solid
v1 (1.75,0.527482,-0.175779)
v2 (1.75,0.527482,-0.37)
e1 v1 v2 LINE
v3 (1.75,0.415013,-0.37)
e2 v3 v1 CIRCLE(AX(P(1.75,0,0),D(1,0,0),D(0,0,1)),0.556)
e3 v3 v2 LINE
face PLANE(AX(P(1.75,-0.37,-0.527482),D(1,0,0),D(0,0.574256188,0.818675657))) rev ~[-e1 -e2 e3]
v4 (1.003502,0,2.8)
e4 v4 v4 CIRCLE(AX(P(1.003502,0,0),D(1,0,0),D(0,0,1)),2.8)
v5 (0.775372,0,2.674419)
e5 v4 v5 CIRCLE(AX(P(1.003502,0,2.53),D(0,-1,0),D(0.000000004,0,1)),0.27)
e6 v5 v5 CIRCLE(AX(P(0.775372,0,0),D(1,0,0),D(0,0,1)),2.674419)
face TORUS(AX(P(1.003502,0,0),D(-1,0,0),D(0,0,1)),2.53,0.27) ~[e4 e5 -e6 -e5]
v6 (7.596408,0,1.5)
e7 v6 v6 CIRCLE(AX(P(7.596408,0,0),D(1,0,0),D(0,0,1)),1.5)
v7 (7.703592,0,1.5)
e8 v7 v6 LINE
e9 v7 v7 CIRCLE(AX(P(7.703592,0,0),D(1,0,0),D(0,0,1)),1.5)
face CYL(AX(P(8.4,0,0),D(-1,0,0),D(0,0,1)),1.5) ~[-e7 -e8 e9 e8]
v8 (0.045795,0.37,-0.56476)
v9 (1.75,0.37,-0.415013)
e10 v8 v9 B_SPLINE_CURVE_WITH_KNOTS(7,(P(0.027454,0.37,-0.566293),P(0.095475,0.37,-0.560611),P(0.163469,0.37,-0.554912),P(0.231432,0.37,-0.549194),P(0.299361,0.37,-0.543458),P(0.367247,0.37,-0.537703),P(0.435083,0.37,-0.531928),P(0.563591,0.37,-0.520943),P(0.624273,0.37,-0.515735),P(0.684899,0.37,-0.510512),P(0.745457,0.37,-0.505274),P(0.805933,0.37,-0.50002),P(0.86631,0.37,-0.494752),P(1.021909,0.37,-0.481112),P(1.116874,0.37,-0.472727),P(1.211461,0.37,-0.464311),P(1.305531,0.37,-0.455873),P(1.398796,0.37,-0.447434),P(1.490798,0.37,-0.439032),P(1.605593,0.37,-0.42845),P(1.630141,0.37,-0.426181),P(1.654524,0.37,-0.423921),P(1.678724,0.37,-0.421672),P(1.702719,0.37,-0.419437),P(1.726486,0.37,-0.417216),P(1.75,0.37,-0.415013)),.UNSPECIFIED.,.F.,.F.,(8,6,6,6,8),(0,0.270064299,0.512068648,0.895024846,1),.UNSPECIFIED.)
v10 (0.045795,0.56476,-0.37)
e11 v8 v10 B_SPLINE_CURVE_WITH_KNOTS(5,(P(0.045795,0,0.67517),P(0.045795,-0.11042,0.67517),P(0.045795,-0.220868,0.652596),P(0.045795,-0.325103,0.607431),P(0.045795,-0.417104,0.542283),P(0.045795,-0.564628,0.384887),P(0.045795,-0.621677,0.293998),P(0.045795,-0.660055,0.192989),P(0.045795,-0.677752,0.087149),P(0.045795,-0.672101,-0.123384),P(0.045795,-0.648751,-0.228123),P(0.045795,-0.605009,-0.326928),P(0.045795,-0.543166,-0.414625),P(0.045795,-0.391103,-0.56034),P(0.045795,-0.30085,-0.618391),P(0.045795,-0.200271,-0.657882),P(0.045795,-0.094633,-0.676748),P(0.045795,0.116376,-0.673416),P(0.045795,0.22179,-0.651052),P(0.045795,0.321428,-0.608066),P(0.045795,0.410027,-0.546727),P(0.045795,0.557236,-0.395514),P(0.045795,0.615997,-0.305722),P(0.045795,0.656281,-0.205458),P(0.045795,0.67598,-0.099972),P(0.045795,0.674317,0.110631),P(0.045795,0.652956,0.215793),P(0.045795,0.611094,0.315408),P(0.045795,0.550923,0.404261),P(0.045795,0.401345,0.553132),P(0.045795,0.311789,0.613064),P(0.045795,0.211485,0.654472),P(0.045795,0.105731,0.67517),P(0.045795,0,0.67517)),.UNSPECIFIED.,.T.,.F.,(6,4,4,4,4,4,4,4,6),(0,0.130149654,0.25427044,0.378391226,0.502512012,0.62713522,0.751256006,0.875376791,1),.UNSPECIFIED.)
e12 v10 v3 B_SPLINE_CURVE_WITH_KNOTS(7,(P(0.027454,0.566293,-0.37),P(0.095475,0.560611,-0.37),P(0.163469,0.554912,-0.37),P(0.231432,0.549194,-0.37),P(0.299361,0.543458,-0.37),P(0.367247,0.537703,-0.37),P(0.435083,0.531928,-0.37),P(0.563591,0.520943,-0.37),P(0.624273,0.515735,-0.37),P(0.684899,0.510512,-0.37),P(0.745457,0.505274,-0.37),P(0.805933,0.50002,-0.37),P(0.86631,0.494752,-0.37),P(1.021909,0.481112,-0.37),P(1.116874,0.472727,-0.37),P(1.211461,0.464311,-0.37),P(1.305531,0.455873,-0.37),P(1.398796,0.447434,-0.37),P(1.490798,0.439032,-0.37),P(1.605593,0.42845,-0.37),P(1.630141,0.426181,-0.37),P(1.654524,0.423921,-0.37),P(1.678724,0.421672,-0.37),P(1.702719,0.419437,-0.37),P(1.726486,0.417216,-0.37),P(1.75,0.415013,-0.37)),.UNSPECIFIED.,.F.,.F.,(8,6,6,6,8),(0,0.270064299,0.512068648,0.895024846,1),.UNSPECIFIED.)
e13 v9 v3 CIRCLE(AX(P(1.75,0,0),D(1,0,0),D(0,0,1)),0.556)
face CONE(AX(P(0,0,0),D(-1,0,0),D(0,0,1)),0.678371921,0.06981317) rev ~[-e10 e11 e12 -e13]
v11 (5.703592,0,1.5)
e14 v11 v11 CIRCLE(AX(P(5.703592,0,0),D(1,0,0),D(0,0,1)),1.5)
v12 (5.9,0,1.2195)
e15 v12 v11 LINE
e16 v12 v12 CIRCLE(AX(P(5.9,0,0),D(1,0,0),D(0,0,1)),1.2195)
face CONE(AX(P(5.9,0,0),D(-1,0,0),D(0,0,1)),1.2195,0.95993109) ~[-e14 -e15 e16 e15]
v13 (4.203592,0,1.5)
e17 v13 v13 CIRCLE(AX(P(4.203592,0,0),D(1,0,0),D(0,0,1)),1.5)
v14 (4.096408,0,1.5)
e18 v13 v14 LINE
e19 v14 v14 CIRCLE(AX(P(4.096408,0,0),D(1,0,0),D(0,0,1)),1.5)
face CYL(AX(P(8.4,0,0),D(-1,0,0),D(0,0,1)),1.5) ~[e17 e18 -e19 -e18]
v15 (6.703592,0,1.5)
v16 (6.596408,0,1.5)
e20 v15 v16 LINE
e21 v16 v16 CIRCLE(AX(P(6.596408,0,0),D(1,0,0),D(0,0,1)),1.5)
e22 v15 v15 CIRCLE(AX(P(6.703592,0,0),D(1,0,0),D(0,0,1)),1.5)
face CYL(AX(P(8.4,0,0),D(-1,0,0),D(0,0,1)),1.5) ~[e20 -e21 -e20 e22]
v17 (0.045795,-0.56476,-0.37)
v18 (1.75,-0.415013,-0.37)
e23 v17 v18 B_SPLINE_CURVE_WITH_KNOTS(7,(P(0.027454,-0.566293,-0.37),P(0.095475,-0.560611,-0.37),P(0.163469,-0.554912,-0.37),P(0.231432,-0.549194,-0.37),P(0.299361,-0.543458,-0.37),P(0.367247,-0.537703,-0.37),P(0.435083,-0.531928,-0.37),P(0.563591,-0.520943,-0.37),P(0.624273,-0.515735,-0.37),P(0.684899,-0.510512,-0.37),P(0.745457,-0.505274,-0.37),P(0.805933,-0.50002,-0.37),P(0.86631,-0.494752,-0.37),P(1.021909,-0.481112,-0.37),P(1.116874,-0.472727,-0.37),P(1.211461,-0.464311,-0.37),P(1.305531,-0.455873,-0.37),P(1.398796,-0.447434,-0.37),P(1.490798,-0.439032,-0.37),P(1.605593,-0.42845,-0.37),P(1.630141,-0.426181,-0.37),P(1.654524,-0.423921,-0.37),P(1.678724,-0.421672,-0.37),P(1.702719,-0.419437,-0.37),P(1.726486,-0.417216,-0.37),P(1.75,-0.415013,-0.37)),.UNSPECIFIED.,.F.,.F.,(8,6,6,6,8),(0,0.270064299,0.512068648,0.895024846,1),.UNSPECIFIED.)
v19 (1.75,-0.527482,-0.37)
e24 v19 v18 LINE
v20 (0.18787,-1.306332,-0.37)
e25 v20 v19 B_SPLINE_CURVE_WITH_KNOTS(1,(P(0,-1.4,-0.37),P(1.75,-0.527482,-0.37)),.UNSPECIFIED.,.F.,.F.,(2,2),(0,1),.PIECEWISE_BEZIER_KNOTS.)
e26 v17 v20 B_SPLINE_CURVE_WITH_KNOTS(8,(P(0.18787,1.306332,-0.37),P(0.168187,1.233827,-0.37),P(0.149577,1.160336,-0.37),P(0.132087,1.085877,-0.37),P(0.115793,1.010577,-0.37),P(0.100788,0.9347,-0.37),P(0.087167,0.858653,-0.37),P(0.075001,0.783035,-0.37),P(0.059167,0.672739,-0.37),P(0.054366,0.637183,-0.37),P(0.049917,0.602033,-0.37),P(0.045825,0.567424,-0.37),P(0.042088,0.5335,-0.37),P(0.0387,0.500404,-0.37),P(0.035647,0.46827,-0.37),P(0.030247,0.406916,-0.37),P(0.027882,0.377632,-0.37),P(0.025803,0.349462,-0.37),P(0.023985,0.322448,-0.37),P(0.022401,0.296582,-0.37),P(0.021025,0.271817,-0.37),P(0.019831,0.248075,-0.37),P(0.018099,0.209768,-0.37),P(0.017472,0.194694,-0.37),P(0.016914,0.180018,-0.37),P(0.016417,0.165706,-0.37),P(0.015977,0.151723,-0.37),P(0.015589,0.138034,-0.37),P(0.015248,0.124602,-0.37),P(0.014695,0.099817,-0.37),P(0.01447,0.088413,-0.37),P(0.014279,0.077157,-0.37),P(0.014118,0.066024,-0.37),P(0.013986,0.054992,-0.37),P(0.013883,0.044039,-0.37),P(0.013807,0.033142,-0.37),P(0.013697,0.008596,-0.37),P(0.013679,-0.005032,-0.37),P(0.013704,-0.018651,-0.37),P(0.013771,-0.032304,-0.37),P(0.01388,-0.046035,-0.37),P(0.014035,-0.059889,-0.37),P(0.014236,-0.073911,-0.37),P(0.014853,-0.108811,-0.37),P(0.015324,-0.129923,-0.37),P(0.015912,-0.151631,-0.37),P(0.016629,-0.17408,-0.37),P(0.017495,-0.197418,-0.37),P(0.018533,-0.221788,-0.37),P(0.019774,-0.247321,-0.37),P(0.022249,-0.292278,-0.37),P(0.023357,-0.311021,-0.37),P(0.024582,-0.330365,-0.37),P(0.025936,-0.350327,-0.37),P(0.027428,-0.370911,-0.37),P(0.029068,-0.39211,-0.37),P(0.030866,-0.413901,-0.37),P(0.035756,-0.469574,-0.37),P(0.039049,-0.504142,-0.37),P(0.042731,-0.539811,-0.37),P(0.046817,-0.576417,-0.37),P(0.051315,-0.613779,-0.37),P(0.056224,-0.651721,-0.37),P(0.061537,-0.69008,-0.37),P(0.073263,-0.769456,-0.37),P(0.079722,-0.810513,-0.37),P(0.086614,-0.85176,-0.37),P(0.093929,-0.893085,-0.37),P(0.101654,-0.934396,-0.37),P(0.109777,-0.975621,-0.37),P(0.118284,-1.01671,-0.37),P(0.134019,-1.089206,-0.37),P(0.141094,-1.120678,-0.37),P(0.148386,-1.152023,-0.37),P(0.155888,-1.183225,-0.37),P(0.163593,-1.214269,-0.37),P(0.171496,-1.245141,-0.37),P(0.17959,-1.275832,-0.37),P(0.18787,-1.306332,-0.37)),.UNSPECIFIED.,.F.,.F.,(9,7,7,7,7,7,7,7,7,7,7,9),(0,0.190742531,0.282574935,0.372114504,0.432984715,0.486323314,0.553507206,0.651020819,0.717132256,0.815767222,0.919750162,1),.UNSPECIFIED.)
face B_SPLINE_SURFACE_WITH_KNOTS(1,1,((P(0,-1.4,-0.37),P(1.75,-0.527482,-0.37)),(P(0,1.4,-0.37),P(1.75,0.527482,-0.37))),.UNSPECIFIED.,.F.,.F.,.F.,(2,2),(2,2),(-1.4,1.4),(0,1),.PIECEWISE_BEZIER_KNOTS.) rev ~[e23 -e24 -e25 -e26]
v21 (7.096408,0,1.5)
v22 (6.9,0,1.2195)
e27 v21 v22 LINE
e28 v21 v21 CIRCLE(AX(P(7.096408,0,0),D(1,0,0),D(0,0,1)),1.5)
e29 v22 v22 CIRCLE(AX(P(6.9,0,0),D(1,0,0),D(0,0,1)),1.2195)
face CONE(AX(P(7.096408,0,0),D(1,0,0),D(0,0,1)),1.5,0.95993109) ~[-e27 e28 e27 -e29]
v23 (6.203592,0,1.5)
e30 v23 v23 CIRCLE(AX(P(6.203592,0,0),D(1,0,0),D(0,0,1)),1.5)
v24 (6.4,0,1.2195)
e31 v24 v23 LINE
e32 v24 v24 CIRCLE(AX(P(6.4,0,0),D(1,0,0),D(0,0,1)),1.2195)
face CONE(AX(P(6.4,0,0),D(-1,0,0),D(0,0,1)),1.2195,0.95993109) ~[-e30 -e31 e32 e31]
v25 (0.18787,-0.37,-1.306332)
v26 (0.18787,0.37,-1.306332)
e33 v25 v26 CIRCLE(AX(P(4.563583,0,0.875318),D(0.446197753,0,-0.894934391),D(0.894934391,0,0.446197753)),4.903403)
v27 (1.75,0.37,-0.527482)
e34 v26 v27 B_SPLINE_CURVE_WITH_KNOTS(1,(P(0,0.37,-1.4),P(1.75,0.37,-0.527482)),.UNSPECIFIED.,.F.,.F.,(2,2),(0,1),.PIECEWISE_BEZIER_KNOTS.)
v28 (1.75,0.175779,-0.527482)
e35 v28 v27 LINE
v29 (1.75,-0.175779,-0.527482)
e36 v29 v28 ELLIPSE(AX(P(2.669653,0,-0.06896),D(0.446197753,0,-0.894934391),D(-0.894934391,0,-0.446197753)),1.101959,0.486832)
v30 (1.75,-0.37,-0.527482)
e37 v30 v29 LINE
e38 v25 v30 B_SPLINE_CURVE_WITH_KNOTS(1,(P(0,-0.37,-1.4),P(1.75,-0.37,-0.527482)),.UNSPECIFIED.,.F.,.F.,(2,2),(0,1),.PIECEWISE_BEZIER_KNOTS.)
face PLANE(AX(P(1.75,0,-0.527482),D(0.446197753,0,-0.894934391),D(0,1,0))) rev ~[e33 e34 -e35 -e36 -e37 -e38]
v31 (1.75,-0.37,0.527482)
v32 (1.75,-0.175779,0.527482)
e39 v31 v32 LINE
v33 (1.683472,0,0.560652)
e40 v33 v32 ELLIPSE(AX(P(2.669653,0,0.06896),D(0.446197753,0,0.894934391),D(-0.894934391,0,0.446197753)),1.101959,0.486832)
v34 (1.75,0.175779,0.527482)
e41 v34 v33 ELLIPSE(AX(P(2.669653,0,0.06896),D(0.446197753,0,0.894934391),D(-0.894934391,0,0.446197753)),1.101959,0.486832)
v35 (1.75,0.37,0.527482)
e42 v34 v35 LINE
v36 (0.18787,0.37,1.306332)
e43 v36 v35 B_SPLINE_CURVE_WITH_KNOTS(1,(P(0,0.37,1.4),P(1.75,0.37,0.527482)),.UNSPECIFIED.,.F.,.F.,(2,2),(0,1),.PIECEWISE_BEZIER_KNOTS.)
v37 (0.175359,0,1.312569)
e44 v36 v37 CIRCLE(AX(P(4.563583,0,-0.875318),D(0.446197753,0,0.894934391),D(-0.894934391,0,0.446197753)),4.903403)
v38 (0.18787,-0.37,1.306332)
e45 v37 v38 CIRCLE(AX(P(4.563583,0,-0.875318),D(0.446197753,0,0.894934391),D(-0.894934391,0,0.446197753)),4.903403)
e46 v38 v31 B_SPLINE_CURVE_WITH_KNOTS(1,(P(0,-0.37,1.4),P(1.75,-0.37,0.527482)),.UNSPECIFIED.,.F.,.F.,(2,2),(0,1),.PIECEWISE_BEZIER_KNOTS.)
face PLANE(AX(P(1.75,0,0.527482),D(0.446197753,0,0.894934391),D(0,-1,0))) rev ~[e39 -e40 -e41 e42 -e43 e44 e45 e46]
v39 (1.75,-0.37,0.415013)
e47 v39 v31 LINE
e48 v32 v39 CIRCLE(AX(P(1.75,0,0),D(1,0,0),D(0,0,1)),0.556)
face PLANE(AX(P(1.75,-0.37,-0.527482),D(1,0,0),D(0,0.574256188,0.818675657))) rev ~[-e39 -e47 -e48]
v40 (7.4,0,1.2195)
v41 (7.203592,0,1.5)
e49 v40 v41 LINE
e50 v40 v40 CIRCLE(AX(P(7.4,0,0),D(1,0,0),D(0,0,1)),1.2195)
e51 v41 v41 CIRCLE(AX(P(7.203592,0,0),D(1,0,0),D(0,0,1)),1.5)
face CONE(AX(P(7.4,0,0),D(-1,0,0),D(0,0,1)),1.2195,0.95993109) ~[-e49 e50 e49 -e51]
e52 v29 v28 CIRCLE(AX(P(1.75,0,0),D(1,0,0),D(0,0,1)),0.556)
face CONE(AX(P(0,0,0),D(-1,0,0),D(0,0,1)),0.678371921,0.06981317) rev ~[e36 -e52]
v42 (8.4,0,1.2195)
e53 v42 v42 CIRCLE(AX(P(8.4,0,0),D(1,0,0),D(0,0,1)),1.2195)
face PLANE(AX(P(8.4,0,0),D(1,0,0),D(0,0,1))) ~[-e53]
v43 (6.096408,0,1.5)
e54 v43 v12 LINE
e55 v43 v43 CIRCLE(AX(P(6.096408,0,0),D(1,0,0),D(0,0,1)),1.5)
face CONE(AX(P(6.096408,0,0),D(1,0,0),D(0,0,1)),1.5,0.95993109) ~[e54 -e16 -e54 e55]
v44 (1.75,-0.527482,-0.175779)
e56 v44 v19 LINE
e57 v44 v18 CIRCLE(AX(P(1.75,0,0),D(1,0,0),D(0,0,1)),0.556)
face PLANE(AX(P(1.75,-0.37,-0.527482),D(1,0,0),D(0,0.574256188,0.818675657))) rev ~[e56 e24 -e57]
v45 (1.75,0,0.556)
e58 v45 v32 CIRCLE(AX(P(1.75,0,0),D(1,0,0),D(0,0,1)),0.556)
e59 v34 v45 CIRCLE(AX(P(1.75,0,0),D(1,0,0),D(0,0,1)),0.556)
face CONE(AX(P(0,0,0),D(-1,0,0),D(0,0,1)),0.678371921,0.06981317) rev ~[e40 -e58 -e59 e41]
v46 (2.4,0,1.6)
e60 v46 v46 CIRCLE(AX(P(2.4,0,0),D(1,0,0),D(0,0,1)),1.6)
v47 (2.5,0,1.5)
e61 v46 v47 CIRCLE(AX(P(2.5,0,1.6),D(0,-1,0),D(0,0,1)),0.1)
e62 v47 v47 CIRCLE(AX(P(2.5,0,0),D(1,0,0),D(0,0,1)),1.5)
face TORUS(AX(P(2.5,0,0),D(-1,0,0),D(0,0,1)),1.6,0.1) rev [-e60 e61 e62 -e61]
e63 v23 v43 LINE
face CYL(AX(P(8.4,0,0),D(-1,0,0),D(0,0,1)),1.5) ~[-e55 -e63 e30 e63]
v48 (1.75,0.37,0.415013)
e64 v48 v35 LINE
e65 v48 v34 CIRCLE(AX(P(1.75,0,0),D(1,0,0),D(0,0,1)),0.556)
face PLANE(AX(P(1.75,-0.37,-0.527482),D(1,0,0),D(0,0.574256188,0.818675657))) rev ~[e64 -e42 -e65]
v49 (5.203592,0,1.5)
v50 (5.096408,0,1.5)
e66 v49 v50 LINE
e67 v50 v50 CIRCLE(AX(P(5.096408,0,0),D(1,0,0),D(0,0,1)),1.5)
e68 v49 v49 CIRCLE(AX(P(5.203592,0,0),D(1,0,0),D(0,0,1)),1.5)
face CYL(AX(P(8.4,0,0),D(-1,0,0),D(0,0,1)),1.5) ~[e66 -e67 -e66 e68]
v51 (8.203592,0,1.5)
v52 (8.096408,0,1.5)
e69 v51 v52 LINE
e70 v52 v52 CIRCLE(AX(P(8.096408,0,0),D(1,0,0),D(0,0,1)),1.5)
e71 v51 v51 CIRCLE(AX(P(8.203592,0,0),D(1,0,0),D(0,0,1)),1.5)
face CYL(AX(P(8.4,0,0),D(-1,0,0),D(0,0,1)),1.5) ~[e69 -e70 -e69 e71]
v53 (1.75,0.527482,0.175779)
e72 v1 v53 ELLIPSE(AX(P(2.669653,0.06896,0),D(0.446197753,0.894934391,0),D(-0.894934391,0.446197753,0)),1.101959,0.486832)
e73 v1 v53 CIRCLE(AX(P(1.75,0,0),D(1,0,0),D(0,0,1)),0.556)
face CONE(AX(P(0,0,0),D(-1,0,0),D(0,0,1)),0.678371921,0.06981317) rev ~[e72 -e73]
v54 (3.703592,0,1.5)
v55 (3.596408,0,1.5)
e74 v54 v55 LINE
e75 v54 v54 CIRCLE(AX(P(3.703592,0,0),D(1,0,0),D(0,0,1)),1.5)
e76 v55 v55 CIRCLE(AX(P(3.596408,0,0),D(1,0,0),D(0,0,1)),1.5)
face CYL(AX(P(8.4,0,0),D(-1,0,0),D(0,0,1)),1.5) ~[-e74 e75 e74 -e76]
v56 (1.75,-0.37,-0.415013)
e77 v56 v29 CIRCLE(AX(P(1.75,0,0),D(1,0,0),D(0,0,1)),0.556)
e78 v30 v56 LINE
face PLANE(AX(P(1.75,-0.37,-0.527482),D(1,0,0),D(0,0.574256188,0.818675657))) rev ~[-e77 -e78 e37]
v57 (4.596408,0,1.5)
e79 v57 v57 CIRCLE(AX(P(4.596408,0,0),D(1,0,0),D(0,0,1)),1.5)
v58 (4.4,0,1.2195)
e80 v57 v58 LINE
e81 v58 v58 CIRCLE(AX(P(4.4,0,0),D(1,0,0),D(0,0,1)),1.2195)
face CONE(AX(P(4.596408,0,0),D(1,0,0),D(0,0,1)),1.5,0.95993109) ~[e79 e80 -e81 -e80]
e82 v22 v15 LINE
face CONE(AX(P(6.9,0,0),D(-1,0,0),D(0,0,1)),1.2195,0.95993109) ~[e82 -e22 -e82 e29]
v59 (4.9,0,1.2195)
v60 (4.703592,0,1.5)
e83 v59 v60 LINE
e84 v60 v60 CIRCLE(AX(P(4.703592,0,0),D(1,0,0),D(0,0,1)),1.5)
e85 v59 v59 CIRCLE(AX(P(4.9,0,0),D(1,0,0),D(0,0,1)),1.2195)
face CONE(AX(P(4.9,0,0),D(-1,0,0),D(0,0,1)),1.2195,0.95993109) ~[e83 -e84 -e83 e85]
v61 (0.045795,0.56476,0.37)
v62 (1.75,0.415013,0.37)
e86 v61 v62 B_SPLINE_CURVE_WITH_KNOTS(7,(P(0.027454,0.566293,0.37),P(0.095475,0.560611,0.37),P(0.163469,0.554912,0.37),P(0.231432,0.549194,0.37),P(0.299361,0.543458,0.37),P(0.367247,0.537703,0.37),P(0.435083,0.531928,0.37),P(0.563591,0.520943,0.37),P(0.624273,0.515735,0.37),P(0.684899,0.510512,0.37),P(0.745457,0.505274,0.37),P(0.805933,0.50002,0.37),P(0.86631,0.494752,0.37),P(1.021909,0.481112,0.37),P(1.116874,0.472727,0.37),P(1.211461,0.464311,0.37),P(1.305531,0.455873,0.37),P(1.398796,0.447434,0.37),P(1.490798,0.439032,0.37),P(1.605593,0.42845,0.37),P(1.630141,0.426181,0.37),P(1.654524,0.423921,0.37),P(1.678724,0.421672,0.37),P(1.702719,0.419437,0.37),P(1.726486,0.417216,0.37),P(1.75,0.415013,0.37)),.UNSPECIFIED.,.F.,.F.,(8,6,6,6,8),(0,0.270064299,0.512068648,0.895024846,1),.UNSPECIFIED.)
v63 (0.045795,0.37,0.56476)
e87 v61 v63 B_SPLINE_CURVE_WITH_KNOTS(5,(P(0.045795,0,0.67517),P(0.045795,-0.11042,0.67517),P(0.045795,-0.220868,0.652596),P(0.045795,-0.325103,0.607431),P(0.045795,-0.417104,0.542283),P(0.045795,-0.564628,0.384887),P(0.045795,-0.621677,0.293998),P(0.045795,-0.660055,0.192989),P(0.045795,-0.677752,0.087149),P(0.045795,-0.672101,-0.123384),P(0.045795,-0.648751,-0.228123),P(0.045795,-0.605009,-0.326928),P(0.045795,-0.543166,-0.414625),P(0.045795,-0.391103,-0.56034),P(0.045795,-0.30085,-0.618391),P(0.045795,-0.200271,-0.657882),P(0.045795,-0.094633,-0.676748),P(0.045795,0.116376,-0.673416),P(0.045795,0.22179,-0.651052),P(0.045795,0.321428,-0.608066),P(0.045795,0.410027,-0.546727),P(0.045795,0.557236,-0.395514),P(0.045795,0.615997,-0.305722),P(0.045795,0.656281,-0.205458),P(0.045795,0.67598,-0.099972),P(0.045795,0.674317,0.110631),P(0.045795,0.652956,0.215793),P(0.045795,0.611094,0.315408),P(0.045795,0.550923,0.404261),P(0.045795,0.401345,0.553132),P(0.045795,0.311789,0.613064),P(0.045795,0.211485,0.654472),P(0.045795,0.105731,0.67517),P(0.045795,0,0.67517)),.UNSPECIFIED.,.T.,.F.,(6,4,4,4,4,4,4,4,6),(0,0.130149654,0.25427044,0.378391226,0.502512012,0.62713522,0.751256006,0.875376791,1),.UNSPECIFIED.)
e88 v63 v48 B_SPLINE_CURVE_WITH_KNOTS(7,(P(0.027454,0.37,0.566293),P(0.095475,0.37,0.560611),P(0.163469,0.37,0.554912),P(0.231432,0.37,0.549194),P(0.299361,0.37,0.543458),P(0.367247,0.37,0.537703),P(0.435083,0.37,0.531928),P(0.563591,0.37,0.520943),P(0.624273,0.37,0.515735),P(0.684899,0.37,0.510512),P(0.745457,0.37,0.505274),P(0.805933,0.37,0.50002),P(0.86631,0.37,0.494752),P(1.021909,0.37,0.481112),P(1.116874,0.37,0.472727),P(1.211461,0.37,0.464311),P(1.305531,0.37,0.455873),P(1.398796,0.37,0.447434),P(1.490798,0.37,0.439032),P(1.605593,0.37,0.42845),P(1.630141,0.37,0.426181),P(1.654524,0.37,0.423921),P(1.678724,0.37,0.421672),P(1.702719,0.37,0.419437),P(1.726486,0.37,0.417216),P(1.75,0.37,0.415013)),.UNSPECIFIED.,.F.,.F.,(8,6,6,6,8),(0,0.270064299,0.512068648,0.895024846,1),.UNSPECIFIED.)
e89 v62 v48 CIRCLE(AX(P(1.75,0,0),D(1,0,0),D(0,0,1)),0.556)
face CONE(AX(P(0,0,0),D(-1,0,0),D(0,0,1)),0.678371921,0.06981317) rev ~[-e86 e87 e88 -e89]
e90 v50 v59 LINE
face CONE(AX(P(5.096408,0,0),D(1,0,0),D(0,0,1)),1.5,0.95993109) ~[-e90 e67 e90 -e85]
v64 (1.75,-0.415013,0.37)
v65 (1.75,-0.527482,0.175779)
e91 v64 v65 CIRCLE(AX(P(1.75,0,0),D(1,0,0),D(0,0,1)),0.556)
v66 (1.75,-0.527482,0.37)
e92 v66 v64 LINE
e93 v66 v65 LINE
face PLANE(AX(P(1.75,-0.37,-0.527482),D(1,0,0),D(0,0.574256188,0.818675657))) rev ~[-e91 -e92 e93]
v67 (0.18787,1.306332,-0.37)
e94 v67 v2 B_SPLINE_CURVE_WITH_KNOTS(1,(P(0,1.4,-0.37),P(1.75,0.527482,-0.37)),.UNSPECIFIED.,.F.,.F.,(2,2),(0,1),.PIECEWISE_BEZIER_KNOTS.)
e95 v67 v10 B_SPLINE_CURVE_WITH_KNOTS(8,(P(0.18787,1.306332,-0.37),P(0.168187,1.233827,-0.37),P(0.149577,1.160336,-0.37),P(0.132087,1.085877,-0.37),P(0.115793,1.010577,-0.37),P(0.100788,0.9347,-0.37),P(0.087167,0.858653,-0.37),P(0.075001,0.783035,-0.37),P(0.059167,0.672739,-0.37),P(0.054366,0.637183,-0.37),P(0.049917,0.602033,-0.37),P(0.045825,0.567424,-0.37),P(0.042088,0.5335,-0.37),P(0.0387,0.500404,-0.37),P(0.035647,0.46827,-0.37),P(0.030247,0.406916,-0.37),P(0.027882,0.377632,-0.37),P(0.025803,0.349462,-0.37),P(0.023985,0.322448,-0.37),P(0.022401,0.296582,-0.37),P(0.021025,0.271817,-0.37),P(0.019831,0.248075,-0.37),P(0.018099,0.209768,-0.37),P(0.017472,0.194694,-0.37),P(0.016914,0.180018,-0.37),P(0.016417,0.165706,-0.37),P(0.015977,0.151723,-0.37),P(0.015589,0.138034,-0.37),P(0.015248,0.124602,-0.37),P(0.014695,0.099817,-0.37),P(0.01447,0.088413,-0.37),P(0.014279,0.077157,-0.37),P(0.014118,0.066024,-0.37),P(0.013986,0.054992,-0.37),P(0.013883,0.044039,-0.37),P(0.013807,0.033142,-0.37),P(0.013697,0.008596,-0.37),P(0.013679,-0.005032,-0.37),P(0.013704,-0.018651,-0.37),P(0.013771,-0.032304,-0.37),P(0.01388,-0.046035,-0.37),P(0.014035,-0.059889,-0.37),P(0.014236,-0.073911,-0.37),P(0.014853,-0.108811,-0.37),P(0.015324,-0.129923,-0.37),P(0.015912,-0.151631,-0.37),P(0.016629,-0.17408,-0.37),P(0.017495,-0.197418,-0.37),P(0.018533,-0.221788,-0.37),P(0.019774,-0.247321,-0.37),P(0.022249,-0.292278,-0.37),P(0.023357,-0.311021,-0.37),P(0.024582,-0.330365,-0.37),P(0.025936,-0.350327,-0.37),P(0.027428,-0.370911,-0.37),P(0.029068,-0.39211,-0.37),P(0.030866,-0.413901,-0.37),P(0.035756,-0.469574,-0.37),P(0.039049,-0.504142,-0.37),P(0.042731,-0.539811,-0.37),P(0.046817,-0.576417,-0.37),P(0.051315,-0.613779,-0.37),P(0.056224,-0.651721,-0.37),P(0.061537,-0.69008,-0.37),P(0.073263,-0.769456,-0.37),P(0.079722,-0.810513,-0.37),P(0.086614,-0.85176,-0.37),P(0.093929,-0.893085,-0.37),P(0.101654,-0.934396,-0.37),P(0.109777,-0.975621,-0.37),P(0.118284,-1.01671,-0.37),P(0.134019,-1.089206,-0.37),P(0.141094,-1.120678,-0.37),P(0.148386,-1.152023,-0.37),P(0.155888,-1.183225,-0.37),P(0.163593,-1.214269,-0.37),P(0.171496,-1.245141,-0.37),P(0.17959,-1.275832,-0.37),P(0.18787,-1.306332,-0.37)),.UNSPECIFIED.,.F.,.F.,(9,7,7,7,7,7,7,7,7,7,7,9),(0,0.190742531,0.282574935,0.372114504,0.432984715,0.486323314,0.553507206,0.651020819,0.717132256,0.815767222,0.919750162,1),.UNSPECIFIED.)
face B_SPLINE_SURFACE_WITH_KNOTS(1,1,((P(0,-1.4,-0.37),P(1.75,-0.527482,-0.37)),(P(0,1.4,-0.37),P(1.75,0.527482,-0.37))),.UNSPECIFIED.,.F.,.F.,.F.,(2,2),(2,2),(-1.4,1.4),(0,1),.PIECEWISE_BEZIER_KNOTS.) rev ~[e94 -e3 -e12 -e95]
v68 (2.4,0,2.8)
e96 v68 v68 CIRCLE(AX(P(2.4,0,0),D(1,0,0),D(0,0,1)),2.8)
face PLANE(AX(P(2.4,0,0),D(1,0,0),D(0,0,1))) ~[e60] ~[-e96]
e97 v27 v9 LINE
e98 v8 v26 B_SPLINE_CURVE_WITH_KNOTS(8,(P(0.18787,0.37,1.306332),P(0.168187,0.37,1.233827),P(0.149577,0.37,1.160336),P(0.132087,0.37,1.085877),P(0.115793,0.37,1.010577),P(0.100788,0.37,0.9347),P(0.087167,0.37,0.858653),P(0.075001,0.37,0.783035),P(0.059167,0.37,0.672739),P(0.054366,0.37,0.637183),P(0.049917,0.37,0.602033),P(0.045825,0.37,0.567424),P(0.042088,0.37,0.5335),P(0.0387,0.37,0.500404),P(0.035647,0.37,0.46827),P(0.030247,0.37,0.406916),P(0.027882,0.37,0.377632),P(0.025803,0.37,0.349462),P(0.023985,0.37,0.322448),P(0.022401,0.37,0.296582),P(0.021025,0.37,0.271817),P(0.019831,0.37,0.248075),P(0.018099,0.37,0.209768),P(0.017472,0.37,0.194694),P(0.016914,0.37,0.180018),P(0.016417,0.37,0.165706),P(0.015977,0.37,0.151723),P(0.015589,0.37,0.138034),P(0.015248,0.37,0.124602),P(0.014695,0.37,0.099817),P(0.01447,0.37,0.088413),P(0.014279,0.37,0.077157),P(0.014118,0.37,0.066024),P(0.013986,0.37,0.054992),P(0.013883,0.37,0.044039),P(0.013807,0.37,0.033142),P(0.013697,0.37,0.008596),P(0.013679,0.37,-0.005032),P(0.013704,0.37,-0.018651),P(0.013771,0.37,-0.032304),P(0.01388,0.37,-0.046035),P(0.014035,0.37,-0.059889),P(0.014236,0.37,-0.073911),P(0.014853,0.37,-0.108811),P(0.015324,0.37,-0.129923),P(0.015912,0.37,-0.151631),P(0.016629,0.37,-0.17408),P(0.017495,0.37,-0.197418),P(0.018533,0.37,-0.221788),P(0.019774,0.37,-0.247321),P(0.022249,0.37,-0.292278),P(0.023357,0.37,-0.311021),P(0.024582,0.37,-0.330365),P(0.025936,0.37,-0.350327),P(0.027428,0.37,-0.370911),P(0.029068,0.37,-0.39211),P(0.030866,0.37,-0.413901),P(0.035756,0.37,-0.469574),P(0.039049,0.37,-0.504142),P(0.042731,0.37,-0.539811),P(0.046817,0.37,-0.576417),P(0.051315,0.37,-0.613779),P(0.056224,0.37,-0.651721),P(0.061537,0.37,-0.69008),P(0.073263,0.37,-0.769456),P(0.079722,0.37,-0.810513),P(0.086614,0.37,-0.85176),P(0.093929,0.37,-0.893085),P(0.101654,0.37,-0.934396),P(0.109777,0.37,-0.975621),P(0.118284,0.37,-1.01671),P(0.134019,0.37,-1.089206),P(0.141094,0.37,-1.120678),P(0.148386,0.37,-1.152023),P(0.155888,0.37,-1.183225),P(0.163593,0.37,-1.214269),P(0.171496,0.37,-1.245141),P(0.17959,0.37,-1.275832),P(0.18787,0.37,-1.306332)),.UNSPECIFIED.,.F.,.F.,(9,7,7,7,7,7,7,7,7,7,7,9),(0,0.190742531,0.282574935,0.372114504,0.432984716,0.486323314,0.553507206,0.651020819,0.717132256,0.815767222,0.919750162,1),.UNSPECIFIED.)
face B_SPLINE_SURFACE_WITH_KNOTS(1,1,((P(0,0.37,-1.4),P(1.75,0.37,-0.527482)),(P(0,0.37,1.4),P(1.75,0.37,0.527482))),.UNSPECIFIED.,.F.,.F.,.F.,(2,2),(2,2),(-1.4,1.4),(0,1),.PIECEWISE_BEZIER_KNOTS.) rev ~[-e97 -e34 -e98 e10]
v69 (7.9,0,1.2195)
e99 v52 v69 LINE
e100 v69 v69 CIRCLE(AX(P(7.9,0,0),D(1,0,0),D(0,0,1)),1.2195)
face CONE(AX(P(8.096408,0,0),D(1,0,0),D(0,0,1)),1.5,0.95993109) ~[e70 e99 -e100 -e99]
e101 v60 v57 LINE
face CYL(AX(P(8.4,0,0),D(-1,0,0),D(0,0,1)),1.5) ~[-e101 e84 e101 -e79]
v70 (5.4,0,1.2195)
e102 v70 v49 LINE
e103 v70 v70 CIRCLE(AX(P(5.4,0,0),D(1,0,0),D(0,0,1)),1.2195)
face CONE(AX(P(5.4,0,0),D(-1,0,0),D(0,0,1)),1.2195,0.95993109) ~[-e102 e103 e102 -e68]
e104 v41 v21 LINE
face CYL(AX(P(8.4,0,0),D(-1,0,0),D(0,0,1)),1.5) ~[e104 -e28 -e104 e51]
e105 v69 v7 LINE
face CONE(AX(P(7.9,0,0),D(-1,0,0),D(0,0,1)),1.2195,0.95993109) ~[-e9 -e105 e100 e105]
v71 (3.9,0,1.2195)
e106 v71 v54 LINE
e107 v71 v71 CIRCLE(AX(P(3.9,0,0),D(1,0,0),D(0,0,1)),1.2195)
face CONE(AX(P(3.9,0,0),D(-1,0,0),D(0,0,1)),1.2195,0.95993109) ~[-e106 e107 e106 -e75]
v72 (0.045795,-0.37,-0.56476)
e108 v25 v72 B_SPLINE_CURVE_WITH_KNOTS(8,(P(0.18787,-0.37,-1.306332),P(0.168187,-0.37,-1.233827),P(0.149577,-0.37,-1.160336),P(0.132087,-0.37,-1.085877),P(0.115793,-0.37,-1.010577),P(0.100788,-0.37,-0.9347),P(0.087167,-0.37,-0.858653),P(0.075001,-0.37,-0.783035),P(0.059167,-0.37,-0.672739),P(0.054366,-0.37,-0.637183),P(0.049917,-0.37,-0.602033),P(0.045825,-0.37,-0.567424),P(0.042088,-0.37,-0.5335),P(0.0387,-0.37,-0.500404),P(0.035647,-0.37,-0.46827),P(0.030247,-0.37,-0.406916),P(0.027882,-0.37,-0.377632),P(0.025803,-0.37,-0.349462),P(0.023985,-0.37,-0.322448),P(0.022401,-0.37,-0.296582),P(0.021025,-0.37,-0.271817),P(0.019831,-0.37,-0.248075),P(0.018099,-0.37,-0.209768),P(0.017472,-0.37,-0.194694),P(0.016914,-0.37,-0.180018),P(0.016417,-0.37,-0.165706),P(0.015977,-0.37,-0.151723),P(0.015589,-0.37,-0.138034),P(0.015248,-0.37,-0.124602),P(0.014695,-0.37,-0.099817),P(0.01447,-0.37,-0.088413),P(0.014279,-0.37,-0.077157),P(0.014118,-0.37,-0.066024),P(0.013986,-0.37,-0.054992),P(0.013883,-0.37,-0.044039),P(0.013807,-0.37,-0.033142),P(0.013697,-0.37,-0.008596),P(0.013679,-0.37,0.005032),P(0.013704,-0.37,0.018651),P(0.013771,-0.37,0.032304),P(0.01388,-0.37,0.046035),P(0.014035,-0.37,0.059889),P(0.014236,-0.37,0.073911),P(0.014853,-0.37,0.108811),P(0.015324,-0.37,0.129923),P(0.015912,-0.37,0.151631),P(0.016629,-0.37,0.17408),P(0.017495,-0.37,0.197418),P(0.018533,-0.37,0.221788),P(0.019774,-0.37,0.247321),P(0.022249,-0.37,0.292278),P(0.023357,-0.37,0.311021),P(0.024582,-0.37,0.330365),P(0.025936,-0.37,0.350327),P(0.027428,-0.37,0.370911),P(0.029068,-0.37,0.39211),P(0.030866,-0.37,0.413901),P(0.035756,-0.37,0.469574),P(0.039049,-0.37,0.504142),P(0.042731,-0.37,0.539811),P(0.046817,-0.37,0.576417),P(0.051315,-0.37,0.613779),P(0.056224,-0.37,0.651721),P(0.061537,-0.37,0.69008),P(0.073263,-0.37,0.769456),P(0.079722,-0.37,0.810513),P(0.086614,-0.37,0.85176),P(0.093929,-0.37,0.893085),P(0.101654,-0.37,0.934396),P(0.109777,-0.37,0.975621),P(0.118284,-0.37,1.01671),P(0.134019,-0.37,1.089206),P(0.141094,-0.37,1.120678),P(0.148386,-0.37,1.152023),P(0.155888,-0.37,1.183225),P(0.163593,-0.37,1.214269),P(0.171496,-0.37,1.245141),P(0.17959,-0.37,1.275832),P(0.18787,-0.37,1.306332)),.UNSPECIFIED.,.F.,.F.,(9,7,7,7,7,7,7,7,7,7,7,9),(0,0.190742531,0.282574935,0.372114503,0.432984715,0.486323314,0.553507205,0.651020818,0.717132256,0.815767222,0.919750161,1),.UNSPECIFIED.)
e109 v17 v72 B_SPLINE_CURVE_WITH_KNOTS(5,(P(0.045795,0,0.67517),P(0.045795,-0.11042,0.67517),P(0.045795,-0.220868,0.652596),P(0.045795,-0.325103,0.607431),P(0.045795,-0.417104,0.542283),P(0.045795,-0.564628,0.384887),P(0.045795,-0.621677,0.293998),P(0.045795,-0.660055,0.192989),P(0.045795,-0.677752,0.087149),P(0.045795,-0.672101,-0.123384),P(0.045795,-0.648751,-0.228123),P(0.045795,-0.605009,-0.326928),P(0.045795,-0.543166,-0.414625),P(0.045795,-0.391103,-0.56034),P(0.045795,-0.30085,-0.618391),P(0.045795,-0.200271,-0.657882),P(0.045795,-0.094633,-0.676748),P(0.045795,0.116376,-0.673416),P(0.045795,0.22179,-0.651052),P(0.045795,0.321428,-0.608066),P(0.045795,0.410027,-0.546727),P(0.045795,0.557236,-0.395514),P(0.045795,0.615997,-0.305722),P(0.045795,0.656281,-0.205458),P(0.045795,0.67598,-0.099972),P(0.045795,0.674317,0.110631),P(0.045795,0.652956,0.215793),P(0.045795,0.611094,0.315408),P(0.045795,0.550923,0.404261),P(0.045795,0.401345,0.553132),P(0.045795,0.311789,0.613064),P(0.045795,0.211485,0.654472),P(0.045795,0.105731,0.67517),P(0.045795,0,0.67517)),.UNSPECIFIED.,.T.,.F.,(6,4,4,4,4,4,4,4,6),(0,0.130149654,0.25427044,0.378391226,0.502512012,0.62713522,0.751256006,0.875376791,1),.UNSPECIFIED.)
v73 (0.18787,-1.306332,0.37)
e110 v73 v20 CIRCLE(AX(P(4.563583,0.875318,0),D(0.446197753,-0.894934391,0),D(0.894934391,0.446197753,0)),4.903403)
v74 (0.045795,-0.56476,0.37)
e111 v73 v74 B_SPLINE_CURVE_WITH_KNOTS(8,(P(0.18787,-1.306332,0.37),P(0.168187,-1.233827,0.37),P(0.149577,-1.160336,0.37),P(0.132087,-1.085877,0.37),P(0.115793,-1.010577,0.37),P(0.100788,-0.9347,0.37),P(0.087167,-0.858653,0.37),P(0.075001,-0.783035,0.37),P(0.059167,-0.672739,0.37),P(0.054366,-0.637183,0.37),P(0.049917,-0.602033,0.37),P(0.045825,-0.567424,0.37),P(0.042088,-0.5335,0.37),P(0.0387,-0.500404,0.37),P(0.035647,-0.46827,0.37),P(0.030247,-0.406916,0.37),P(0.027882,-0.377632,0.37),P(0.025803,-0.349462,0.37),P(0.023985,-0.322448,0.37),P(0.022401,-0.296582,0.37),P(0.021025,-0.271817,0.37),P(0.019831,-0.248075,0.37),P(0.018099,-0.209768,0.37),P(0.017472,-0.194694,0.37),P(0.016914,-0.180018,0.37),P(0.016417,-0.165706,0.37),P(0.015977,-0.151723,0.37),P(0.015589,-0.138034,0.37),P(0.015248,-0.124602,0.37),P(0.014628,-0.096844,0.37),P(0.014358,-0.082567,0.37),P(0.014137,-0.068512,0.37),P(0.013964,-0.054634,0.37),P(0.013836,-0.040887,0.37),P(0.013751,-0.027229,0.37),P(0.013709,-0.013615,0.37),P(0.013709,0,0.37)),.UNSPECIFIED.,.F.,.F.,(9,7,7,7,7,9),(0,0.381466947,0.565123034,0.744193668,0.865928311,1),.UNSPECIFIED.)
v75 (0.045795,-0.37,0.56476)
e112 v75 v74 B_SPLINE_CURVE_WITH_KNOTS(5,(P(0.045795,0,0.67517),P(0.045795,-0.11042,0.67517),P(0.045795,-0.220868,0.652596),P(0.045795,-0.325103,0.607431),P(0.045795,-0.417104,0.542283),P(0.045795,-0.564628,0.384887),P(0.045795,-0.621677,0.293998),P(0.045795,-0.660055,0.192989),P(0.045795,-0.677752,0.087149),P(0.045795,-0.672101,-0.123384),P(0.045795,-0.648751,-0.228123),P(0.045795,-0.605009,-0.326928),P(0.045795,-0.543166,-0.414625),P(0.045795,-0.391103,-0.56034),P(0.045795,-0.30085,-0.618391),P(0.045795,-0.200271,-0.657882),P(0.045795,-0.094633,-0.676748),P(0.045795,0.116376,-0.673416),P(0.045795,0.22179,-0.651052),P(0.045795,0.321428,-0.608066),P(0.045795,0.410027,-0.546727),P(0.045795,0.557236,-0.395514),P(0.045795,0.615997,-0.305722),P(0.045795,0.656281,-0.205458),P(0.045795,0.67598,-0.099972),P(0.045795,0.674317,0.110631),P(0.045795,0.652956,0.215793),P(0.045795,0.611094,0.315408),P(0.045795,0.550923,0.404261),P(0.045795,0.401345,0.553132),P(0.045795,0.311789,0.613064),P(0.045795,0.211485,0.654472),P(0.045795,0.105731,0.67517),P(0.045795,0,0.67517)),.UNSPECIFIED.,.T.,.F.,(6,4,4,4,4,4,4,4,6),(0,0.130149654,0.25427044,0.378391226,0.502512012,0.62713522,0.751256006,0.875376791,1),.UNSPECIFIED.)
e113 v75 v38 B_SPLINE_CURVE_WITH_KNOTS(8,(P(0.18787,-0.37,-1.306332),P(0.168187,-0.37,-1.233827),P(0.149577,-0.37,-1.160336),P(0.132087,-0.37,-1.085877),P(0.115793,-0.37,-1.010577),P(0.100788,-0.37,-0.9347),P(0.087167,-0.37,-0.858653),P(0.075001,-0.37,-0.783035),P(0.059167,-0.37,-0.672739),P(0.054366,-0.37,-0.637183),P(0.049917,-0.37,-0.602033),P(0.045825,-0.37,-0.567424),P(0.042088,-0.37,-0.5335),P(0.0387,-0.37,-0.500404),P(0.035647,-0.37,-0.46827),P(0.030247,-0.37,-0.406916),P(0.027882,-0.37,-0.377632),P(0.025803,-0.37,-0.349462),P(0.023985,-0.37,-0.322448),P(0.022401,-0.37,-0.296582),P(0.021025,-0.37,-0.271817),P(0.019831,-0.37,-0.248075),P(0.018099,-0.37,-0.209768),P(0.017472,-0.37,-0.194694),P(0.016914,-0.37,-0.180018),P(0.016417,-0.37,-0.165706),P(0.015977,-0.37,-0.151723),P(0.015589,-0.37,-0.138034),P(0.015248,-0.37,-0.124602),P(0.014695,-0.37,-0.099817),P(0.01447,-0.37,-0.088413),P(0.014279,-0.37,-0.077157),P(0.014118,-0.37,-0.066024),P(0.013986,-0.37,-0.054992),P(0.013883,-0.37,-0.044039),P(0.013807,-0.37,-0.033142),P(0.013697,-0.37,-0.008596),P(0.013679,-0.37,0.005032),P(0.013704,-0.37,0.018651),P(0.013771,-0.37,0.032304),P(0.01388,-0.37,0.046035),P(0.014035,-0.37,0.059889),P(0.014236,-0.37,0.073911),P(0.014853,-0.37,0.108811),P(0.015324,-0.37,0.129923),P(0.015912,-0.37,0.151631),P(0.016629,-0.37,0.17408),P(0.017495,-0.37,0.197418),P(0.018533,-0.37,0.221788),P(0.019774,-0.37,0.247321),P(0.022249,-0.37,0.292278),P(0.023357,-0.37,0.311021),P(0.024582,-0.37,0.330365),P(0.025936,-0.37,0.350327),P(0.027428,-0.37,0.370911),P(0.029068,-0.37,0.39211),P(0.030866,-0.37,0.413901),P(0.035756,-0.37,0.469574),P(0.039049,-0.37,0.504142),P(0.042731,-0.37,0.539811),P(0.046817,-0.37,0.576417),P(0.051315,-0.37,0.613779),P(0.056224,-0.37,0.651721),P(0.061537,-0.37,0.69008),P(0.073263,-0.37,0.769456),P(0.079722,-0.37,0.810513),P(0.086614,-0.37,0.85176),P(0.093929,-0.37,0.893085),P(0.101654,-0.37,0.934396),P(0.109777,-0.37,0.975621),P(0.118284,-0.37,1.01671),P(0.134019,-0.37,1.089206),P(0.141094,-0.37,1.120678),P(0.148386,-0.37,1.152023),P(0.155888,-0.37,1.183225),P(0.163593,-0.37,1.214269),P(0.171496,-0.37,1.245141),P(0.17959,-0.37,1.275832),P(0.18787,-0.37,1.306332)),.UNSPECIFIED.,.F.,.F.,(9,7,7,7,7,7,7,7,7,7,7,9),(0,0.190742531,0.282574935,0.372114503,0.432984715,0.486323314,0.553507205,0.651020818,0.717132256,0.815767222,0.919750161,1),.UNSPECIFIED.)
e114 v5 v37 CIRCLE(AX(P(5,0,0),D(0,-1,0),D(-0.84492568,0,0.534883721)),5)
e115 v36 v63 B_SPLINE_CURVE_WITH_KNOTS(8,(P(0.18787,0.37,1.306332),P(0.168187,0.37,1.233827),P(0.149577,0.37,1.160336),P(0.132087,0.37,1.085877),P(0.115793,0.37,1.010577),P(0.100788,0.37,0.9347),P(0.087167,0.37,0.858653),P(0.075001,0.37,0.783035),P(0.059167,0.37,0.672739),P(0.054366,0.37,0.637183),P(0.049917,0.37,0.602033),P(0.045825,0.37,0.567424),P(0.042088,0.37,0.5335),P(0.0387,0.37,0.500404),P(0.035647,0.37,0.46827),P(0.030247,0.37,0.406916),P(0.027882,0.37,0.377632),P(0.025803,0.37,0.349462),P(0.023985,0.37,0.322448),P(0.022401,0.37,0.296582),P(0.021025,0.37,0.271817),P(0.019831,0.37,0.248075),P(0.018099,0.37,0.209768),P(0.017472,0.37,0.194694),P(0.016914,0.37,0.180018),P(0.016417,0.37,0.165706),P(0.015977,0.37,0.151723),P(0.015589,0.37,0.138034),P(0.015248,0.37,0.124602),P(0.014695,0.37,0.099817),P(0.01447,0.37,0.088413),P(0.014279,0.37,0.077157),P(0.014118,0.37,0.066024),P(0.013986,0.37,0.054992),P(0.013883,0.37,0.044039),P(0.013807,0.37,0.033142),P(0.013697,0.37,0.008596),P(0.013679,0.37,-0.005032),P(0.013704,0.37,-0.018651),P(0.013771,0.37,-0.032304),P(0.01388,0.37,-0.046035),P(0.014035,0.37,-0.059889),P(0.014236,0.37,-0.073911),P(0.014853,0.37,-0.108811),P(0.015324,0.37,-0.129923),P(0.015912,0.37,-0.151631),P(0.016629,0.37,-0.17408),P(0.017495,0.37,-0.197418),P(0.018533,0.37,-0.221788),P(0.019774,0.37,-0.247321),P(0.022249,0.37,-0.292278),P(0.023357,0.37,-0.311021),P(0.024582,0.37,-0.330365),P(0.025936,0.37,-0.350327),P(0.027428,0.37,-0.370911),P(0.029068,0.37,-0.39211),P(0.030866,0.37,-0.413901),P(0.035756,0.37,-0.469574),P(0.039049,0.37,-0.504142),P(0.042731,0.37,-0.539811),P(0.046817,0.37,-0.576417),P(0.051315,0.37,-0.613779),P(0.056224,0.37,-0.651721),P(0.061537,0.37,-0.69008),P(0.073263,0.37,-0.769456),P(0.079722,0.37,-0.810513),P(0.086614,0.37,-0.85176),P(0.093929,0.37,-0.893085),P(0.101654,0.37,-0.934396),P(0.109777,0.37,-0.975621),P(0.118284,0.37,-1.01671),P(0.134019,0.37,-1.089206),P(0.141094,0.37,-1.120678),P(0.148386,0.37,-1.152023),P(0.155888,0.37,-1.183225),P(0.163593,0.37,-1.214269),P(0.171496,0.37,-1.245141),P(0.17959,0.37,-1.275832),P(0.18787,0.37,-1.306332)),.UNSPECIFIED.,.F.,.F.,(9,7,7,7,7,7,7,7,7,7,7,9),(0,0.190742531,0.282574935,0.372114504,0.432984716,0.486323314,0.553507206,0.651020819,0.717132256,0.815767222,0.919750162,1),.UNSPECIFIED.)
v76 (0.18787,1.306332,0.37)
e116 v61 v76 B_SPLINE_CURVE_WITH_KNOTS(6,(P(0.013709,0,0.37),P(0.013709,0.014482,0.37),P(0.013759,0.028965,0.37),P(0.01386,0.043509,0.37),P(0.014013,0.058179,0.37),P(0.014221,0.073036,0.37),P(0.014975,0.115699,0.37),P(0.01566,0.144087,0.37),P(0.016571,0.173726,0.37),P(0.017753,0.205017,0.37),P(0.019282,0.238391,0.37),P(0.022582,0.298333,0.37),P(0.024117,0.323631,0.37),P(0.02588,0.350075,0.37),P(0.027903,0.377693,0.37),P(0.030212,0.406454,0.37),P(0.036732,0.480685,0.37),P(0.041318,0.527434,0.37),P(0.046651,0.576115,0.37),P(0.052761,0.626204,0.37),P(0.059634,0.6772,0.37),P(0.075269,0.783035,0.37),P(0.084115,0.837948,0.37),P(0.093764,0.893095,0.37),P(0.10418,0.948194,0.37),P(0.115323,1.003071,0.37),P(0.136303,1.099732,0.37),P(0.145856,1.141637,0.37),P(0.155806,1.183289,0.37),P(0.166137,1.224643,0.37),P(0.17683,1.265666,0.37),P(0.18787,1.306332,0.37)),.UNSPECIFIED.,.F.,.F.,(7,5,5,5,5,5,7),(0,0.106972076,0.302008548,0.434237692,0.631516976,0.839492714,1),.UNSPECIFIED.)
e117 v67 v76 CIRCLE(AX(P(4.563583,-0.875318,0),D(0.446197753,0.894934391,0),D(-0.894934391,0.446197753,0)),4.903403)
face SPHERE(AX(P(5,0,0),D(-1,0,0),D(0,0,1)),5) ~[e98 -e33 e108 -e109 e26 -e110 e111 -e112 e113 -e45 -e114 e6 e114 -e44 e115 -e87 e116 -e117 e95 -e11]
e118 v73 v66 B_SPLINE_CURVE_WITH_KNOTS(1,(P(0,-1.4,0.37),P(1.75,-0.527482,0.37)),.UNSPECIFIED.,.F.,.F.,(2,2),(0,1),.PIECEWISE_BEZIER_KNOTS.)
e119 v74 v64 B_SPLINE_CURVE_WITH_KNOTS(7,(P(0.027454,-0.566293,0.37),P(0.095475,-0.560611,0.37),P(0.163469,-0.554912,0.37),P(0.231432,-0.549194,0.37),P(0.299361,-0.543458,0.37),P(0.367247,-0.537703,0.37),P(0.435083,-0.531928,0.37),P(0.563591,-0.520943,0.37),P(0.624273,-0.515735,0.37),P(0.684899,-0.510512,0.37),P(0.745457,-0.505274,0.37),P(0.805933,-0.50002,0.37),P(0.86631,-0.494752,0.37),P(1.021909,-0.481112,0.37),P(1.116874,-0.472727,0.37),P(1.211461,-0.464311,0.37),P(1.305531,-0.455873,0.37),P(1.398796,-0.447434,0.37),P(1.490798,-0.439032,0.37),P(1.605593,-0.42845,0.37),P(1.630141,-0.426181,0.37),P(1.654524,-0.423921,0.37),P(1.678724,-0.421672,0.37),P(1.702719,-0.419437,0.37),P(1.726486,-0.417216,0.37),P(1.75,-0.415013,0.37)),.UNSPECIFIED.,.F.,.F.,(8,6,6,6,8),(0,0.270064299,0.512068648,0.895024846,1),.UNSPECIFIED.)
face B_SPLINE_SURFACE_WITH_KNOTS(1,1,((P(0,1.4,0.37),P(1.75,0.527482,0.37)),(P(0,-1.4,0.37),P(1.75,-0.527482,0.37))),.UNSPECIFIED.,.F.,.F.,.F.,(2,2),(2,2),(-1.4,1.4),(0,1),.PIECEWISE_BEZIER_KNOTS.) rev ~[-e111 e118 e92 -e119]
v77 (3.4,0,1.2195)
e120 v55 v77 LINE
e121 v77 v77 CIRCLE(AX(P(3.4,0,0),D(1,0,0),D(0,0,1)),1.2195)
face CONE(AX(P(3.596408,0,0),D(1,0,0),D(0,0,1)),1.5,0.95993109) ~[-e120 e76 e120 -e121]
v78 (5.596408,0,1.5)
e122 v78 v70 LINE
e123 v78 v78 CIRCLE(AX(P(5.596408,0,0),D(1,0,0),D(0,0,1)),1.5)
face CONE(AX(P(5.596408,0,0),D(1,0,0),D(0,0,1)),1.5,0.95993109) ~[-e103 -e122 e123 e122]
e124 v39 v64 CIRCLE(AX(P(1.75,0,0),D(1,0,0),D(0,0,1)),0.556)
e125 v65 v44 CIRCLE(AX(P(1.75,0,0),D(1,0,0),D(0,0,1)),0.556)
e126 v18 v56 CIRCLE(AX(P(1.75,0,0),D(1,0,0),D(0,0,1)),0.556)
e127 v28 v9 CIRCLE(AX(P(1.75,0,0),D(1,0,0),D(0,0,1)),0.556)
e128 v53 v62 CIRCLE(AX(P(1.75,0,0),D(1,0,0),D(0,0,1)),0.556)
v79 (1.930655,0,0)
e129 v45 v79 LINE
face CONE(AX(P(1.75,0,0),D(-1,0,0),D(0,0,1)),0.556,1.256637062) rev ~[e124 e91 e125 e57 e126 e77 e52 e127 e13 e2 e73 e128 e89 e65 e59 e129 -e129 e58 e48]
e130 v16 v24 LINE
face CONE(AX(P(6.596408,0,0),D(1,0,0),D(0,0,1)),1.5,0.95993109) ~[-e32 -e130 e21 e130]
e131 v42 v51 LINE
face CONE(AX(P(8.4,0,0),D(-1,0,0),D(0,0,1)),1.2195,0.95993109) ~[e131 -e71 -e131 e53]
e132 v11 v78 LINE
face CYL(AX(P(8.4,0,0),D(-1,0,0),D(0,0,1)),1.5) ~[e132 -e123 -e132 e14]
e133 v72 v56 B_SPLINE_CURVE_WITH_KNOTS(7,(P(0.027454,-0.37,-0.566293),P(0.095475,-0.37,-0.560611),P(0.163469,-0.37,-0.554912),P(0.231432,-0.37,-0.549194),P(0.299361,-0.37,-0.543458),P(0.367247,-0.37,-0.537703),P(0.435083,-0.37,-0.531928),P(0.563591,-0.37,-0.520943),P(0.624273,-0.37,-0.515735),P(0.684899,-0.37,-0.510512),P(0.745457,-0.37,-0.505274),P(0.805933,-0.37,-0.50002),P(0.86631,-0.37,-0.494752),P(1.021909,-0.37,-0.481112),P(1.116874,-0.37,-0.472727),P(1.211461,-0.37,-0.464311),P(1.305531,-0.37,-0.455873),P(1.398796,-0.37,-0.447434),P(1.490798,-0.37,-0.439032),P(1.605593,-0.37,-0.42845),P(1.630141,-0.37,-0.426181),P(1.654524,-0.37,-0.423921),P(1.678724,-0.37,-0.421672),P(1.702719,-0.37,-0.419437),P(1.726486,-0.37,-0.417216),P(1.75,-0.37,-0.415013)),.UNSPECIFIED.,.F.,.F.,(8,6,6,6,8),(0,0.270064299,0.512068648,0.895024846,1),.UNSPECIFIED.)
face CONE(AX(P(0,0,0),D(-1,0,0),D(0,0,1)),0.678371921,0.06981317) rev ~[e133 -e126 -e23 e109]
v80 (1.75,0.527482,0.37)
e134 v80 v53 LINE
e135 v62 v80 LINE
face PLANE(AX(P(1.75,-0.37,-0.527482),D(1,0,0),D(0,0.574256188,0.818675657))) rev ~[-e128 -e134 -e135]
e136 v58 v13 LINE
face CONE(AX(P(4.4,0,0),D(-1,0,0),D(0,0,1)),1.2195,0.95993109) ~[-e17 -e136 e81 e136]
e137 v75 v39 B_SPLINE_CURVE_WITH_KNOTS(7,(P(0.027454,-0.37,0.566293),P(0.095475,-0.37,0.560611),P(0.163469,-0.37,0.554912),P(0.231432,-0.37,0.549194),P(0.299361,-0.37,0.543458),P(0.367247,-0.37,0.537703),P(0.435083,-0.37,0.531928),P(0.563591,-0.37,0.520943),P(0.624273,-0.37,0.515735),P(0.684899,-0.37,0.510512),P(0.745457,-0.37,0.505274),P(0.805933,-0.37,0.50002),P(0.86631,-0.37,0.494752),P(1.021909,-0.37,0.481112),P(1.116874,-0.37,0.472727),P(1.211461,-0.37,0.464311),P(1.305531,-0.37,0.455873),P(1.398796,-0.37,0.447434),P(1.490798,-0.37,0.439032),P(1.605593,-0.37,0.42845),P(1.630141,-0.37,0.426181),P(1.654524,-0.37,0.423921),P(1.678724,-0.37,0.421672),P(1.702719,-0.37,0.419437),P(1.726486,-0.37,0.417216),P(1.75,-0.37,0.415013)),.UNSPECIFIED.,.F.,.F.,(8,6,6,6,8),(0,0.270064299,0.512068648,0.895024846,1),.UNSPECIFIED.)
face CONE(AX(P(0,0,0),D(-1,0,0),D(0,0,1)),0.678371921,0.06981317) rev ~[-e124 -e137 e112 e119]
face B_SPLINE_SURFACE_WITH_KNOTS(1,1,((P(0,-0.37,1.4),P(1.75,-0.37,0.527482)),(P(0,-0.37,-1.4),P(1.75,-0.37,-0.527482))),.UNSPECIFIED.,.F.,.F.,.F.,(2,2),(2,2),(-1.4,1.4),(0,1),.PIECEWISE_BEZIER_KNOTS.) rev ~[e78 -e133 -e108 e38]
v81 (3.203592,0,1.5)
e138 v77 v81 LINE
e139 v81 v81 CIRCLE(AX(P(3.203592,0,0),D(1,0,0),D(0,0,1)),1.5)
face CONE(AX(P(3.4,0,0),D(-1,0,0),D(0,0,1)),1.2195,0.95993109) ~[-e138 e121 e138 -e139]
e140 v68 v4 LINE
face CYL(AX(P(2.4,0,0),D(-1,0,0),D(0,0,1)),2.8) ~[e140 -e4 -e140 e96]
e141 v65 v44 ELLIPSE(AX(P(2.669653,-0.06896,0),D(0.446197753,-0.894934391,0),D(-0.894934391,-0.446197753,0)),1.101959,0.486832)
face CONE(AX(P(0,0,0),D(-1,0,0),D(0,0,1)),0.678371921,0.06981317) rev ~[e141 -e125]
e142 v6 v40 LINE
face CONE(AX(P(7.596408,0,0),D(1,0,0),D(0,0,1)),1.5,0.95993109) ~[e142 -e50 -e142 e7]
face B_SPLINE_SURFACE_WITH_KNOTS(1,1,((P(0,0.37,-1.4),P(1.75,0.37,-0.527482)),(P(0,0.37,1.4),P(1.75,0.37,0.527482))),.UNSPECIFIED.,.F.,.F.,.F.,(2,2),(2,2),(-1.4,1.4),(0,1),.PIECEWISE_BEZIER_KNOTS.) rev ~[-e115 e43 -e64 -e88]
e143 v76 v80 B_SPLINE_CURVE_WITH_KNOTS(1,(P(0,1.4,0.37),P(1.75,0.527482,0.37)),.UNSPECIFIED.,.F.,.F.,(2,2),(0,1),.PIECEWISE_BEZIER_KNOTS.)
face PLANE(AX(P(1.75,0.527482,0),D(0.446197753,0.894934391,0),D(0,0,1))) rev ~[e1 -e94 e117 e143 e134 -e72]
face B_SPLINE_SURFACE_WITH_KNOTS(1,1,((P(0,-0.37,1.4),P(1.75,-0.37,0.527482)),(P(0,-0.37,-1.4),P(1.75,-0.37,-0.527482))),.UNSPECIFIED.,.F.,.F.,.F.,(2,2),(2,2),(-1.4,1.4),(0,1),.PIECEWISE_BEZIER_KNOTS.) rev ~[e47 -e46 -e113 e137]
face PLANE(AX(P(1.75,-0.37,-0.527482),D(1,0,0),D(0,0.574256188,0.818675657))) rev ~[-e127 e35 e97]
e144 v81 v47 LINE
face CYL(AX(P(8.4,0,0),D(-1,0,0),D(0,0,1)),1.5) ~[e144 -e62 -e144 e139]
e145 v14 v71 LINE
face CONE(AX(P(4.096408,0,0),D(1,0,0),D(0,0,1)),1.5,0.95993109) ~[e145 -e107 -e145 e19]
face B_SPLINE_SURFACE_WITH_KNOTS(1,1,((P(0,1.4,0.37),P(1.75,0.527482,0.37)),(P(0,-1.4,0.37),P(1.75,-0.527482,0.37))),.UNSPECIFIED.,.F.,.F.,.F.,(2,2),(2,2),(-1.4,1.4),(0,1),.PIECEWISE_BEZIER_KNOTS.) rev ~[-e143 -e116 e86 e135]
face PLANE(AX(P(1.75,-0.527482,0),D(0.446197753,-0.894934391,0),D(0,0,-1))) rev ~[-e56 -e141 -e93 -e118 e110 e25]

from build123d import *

# Parameters (mm, degrees)
FILLET1_R       = 0.1
SKETCH3_W       = 0.74
SKETCH3_H       = 2.8
SKETCH4_W       = 0.74
SKETCH4_H       = 1.054964664
RECPAT_COUNT    = 2
RECPAT_ANGLE    = 90
THDSCHPAT_COUNT = 11
THDSCHPAT_PITCH = 0.5


with BuildPart() as part:
    # BodySke → Base-Revolve (revolve)
    with BuildSketch(Plane.XY, mode=Mode.PRIVATE) as base_revolve_sk:
        with BuildLine():
            Line((2.4, 1.5), (2.4, 2.8))
            Line((2.4, 2.8), (1.003501533, 2.8))
            ThreePointArc((1.003501533, 2.8), (0.873295971, 2.76653015), (0.775371599, 2.674418605))
            ThreePointArc((0.775371599, 2.674418605), (0.197753546, 1.392274756), (0, 0))
            Line((0, 0), (8.4, 0))
            Line((8.4, 0), (8.4, 1.5))
            Line((8.4, 1.5), (2.4, 1.5))
        make_face()
    revolve(base_revolve_sk.sketch.rotate(Axis((-25.4, 0, 0), (1, 0, 0)), 90), axis=Axis((-25.4, 0, 0), (1, 0, 0)))  # turned: the seam where the file's is

    # Fillet1
    fillet1_edges = [part.edges().sort_by_distance(p)[0] for p in [
        (2.4, 0, -1.5),
    ]]
    fillet(fillet1_edges, radius=FILLET1_R)

    # Sketch3 → Recess section 0
    with BuildSketch(Plane(origin=(0, 0, 0), x_dir=(0, 0, -1), z_dir=(1, 0, 0))):
        Rectangle(SKETCH3_W, SKETCH3_H)
    # Sketch4 → Recess section 1
    with BuildSketch(Plane(origin=(1.75, 0, 0), x_dir=(0, 0, -1), z_dir=(1, 0, 0))):
        Rectangle(SKETCH4_W, SKETCH4_H)
    recess = loft(mode=Mode.SUBTRACT)

    # RecPat: Recess ×2 about axis
    recpat_axis = Axis((0, 0, 0), (1, 0, 0))
    for i in range(1, RECPAT_COUNT):
        add(recess.rotate(recpat_axis, i * RECPAT_ANGLE / (RECPAT_COUNT - 1)), mode=Mode.SUBTRACT)

    # RecCorSke → RecessCore (revolve, cut)
    with BuildSketch(Plane.XY, mode=Mode.PRIVATE) as recesscore_sk:
        Polygon((0, 0), (0, 0.678371921), (1.75, 0.556), (1.930655351, 0), align=None)
    revolve(recesscore_sk.sketch.rotate(Axis((-3.175, 0, 0), (1, 0, 0)), 90), axis=Axis((-3.175, 0, 0), (1, 0, 0)), mode=Mode.SUBTRACT)  # turned: the seam where the file's is

    # ThdSchSke → ThreadSchematic (revolve, cut)
    with BuildSketch(Plane.XY, mode=Mode.PRIVATE) as threadschematic_sk:
        Polygon((3.4, -1.2195), (3.203591786, -1.5), (3.203591786, -1.875), (3.596408214, -1.875), (3.596408214, -1.5), align=None)
    threadschematic = revolve(threadschematic_sk.sketch.rotate(Axis((-3.175, 0, 0), (1, 0, 0)), 270), axis=Axis((-3.175, 0, 0), (1, 0, 0)), mode=Mode.SUBTRACT)  # turned: the seam where the file's is

    # ThdSchPat: ThreadSchematic ×11
    with Locations(*[(i * THDSCHPAT_PITCH, 0, 0) for i in range(1, THDSCHPAT_COUNT)]):
        add(threadschematic, mode=Mode.SUBTRACT)


solid = part.part
